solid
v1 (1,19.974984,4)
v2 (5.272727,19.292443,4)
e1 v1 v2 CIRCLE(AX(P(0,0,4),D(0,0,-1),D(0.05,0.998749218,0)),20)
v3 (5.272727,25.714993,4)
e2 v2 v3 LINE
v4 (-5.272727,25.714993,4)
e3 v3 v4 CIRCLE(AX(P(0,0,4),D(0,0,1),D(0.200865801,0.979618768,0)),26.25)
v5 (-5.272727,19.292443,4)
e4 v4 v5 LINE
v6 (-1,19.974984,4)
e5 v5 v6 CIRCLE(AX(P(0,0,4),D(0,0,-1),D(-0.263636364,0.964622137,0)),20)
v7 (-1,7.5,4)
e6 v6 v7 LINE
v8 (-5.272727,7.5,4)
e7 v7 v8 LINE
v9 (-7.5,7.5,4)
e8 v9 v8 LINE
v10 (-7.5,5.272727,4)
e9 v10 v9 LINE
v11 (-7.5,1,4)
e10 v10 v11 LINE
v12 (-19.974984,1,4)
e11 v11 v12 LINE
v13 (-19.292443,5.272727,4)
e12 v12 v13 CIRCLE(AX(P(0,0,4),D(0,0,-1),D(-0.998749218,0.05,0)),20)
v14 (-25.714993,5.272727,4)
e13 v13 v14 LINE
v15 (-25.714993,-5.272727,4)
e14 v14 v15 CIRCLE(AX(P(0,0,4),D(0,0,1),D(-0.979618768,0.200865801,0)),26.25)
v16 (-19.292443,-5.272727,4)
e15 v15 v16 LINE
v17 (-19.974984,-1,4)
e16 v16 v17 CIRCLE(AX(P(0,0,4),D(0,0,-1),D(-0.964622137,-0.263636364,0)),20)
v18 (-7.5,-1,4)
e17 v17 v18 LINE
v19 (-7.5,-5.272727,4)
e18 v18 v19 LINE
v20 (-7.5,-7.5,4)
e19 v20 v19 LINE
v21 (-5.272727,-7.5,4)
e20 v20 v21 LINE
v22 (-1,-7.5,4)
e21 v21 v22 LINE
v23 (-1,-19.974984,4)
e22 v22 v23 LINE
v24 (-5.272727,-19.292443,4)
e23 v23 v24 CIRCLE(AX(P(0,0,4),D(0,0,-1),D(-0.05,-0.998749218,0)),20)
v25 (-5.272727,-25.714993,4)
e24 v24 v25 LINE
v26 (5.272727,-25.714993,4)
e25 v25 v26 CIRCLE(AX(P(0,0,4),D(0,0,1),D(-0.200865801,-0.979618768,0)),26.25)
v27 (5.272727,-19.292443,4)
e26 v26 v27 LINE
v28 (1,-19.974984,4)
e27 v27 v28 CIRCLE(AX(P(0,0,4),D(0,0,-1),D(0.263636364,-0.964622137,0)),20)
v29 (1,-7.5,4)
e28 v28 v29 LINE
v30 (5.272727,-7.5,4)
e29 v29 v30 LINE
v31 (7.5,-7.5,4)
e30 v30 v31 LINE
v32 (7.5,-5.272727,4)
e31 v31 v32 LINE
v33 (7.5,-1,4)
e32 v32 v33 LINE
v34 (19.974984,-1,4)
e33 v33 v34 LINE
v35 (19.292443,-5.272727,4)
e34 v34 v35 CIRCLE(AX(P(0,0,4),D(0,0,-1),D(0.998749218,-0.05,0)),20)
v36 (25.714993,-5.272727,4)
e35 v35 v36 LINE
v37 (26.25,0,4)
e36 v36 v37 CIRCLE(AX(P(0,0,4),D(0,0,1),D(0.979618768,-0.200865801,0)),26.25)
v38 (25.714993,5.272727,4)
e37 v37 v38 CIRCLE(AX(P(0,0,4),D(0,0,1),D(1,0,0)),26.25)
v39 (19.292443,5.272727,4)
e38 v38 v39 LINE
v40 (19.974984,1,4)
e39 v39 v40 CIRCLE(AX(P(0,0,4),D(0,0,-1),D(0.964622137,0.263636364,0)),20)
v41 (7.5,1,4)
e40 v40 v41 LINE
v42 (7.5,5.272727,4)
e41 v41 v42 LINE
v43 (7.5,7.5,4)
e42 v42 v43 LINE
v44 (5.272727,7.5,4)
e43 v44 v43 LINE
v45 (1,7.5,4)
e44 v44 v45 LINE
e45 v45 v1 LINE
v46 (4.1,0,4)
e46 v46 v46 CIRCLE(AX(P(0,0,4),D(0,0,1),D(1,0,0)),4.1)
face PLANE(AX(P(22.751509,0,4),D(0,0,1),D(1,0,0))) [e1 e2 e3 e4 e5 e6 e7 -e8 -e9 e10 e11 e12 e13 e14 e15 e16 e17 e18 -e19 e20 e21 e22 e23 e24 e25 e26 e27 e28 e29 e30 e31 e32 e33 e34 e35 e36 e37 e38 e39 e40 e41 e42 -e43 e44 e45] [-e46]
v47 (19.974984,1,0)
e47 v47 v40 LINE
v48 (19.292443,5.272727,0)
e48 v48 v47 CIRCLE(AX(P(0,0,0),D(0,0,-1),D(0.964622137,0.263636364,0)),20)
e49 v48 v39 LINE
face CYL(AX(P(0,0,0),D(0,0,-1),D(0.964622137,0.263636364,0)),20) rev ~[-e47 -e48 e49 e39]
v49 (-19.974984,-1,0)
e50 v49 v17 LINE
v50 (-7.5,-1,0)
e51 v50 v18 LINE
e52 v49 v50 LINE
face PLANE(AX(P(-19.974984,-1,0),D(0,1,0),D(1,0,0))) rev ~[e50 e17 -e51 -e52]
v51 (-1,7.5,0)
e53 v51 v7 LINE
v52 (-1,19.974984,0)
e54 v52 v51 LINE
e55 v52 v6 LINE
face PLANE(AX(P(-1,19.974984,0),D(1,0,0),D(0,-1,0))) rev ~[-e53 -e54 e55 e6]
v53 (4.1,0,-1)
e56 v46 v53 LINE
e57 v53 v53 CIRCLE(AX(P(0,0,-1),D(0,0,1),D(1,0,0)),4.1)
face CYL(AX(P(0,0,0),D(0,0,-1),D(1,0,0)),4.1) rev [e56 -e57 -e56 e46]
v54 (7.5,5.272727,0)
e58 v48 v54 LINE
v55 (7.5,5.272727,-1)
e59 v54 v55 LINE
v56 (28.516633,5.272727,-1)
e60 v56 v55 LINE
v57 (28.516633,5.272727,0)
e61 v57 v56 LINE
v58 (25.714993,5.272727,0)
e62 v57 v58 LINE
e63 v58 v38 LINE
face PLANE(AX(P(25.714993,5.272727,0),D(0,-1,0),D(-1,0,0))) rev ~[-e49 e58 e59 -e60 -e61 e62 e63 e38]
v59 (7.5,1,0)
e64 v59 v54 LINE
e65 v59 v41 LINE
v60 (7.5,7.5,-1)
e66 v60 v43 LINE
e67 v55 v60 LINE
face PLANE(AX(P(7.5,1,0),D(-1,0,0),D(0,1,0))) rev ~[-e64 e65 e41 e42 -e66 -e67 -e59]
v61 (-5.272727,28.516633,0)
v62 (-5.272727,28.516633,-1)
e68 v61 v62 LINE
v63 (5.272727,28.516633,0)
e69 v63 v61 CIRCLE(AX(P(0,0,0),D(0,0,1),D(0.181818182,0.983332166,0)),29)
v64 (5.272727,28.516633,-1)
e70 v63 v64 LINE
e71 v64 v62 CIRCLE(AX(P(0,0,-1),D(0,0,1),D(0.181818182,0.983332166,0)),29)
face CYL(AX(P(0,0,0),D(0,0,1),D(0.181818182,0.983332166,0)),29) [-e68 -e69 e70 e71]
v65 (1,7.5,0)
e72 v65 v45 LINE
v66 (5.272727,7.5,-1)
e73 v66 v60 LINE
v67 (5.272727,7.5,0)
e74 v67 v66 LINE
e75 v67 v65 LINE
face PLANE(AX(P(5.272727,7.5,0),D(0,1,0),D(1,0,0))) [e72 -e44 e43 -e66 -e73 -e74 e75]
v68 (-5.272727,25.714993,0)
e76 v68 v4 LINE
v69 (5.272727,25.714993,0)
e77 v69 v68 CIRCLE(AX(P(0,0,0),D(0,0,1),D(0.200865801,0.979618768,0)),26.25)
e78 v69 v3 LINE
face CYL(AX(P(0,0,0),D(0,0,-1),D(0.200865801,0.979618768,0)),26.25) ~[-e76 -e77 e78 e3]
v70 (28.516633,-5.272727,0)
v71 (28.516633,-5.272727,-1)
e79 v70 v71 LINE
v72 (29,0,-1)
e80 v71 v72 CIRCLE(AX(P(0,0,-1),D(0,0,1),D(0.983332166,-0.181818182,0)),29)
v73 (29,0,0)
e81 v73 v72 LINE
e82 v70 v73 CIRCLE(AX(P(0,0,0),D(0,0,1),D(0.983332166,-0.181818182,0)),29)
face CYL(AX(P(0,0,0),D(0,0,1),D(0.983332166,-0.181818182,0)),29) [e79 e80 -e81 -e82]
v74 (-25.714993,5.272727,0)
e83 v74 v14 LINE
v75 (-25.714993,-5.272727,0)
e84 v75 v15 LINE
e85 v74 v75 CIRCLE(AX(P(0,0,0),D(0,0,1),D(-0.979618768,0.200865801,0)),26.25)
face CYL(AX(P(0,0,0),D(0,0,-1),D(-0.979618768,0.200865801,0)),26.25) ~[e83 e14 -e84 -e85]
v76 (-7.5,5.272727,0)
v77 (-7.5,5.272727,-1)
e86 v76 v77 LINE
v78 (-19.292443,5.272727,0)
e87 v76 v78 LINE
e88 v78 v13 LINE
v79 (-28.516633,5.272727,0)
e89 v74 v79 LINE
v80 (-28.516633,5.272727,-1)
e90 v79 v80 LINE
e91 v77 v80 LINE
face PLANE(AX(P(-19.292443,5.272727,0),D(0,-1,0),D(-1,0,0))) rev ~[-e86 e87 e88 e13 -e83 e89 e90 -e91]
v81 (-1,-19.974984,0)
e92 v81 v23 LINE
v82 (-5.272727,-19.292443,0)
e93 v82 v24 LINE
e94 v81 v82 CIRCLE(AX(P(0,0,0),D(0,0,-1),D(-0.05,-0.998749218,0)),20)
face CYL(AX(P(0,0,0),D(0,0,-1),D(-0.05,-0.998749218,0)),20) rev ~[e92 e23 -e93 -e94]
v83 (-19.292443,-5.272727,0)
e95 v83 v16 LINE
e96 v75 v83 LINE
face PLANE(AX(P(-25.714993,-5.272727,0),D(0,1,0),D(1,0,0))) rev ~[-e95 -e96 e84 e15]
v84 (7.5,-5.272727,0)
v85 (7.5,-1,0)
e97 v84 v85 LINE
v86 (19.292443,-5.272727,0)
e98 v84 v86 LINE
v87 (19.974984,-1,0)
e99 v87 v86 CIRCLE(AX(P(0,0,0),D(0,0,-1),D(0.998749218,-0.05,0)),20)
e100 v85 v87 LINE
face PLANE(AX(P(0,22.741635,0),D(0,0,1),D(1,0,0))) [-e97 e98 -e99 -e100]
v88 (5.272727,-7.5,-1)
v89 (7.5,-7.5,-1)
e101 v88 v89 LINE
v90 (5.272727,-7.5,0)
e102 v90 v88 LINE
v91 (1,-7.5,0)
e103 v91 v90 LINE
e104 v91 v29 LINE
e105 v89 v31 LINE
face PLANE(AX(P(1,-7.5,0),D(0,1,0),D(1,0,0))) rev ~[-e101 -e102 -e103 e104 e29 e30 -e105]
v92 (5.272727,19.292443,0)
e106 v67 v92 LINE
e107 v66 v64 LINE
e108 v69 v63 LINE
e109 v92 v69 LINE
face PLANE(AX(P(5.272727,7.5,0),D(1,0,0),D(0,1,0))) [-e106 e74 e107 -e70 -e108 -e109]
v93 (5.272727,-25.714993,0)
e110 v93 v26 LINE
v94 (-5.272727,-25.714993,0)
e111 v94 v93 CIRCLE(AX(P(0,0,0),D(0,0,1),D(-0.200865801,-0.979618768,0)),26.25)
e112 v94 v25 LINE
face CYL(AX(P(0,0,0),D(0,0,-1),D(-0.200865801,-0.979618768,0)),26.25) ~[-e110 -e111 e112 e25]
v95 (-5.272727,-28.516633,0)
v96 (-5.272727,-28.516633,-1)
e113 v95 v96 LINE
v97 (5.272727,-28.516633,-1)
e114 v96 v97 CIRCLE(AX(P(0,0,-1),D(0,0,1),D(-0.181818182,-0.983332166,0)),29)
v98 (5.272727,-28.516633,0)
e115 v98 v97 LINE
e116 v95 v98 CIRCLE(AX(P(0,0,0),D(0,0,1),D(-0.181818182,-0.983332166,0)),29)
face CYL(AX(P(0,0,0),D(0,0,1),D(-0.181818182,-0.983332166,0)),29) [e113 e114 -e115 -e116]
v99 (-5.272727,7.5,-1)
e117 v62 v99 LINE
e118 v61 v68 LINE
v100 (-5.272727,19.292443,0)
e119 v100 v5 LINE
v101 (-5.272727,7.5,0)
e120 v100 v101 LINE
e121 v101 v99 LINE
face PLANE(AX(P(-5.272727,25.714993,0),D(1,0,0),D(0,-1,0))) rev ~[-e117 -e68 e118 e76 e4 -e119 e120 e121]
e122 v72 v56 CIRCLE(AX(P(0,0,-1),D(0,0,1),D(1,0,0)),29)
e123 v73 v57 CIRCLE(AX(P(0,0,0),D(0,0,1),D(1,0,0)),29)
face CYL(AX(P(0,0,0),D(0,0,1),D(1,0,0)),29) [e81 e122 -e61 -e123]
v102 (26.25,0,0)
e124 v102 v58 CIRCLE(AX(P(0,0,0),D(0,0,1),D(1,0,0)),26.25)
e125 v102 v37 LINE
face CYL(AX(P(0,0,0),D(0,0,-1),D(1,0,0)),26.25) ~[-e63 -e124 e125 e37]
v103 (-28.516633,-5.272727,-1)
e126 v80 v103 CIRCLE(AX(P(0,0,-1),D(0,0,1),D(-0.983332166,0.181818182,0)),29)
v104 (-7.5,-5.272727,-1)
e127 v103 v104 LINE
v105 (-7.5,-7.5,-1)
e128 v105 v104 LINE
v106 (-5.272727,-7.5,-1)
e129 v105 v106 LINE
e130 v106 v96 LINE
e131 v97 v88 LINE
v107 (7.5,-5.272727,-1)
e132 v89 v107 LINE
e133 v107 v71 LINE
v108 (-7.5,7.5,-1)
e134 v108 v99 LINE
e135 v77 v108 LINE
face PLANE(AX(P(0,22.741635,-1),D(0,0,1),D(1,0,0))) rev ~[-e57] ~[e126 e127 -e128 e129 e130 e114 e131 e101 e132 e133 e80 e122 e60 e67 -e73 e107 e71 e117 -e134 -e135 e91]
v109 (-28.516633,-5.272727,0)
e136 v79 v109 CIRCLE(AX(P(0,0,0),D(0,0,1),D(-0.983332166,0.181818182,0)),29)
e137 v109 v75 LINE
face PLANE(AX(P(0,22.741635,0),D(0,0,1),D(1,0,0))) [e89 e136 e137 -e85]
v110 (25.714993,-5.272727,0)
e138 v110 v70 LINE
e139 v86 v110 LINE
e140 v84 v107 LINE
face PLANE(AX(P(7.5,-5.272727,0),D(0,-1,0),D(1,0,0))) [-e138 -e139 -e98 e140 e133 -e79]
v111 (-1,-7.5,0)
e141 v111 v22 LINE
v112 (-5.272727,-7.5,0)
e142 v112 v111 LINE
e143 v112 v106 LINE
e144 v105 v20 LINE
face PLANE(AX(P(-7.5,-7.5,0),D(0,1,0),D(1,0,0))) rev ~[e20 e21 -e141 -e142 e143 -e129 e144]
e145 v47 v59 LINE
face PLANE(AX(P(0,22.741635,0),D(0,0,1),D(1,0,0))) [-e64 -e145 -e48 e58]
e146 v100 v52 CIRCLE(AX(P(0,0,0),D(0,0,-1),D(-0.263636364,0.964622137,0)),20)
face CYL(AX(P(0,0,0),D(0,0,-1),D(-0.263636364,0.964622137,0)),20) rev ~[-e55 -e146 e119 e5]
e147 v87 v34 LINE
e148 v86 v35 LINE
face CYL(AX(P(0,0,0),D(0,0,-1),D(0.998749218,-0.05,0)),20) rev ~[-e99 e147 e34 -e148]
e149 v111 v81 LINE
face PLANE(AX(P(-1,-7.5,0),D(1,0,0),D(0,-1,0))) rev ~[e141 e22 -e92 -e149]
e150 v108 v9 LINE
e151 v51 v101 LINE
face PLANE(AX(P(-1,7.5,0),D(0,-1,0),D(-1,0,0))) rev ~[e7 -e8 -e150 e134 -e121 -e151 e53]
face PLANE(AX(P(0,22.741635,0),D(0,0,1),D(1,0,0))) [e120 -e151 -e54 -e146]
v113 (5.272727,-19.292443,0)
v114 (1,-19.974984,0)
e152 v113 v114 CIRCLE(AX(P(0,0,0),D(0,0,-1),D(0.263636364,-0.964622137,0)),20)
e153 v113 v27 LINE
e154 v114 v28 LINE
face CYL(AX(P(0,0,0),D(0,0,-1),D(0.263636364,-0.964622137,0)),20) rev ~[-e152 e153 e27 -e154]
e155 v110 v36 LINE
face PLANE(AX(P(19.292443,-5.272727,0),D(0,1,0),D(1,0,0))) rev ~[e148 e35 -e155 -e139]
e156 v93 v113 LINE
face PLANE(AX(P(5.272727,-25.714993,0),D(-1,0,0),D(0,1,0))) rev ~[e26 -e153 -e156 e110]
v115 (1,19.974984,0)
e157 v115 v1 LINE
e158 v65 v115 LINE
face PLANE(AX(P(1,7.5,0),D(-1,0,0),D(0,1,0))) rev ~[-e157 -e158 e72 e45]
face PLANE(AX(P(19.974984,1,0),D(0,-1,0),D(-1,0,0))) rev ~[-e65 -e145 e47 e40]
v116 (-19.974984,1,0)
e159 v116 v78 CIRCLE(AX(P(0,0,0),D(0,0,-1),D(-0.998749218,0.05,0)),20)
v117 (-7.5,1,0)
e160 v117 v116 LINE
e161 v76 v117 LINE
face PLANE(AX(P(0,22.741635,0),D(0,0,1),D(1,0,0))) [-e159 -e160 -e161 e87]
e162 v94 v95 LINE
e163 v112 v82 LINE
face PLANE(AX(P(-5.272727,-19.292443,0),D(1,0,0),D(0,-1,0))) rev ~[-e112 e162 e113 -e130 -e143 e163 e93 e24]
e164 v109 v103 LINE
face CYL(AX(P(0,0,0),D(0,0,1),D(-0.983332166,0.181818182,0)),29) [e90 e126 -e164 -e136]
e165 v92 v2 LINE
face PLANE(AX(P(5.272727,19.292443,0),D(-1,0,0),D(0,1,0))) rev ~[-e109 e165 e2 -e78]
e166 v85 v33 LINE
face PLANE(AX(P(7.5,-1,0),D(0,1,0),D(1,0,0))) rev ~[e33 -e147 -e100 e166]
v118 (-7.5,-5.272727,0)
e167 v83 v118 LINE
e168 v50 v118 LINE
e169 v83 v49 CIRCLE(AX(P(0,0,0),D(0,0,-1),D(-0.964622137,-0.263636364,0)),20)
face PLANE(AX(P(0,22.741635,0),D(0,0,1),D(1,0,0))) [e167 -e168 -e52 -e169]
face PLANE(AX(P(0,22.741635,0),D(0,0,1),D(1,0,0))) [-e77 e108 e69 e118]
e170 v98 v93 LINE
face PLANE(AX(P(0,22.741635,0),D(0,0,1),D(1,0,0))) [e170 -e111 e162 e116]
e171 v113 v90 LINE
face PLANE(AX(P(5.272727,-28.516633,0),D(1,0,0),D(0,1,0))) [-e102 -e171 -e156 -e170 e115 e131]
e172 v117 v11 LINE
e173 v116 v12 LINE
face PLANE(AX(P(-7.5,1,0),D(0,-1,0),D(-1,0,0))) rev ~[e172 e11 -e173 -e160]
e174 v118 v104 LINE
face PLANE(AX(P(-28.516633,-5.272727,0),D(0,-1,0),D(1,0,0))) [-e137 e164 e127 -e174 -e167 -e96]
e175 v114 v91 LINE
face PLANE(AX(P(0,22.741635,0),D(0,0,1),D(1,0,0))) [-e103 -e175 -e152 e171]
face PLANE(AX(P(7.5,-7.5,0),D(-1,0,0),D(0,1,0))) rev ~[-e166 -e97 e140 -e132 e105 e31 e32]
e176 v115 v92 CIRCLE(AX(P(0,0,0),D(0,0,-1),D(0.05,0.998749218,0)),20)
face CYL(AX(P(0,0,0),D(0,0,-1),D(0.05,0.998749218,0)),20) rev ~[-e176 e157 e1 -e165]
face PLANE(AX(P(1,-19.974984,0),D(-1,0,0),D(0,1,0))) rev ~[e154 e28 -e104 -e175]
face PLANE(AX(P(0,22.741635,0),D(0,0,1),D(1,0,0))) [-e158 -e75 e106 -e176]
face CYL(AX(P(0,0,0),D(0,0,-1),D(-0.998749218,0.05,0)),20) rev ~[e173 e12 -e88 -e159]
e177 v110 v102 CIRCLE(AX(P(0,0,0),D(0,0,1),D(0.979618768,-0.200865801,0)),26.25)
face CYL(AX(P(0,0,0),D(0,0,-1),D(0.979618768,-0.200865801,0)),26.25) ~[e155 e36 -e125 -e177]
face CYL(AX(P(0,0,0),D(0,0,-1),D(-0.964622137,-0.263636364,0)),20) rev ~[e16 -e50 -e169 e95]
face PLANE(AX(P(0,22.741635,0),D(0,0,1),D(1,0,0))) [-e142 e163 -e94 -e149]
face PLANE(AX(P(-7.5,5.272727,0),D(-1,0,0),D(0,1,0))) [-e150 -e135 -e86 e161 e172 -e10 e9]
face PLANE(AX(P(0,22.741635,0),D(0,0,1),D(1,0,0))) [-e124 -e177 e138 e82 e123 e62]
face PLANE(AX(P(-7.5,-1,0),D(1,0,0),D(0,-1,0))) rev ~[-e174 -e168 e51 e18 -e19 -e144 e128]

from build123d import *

# Parameters (mm, degrees)
F0_R     = 4.1
F0_W     = 2.2272727273
F0_H     = 2.2272727273
F1_DEPTH = 1
F2_DEPTH = 4


with BuildPart() as f1:
    # F0 (on Top) → F1 (new body)
    with BuildSketch(Plane.XY):
        with BuildLine():
            Line((5.2727272727, 19.292442746), (5.2727272727, 25.7149926523))
            ThreePointArc((5.2727272727, 25.7149926523), (0, 26.25), (-5.2727272727, 25.7149926523))
            Line((-5.2727272727, 25.7149926523), (-5.2727272727, 19.292442746))
            ThreePointArc((-5.2727272727, 19.292442746), (-3.1548760073, 19.7496014486), (-1, 19.9749843554))
            ThreePointArc((-1, 19.9749843554), (0, 20), (1, 19.9749843554))
            ThreePointArc((1, 19.9749843554), (3.1548760073, 19.7496014486), (5.2727272727, 19.292442746))
        make_face()
        with BuildLine():
            ThreePointArc((-25.7149926523, -5.2727272727), (-26.25, 0), (-25.7149926523, 5.2727272727))
            Line((-25.7149926523, 5.2727272727), (-28.516632815, 5.2727272727))
            ThreePointArc((-28.516632815, 5.2727272727), (-29, 0), (-28.516632815, -5.2727272727))
            Line((-28.516632815, -5.2727272727), (-25.7149926523, -5.2727272727))
        make_face()
        with BuildLine():
            ThreePointArc((-5.2727272727, 25.7149926523), (0, 26.25), (5.2727272727, 25.7149926523))
            Line((5.2727272727, 25.7149926523), (5.2727272727, 28.516632815))
            ThreePointArc((5.2727272727, 28.516632815), (0, 29), (-5.2727272727, 28.516632815))
            Line((-5.2727272727, 28.516632815), (-5.2727272727, 25.7149926523))
        make_face()
        with BuildLine():
            ThreePointArc((25.7149926523, 5.2727272727), (26.1159056623, 2.6499002696), (26.25, 0))
            ThreePointArc((26.25, 0), (26.1159056623, -2.6499002696), (25.7149926523, -5.2727272727))
            Line((25.7149926523, -5.2727272727), (28.516632815, -5.2727272727))
            ThreePointArc((28.516632815, -5.2727272727), (28.8789053778, -2.6474183995), (29, 0))
            ThreePointArc((29, 0), (28.8789053778, 2.6474183995), (28.516632815, 5.2727272727))
            Line((28.516632815, 5.2727272727), (25.7149926523, 5.2727272727))
        make_face()
        with BuildLine():
            Line((5.2727272727, -28.516632815), (5.2727272727, -25.7149926523))
            ThreePointArc((5.2727272727, -25.7149926523), (0, -26.25), (-5.2727272727, -25.7149926523))
            Line((-5.2727272727, -25.7149926523), (-5.2727272727, -28.516632815))
            ThreePointArc((-5.2727272727, -28.516632815), (0, -29), (5.2727272727, -28.516632815))
        make_face()
        with BuildLine():
            Line((-7.5, 5.2727272727), (-19.292442746, 5.2727272727))
            ThreePointArc((-19.292442746, 5.2727272727), (-19.7496014486, 3.1548760073), (-19.9749843554, 1))
            Line((-19.9749843554, 1), (-7.5, 1))
            Line((-7.5, 1), (-7.5, 5.2727272727))
        make_face()
        Polygon((7.5, 1), (7.5, 5.2727272727), (5.2727272727, 5.2727272727), (5.2727272727, 7.5), (1, 7.5), (-1, 7.5), (-5.2727272727, 7.5), (-5.2727272727, 5.2727272727), (-7.5, 5.2727272727), (-7.5, 1), (-7.5, -1), (-7.5, -5.2727272727), (-5.2727272727, -5.2727272727), (-5.2727272727, -7.5), (-1, -7.5), (1, -7.5), (5.2727272727, -7.5), (5.2727272727, -5.2727272727), (7.5, -5.2727272727), (7.5, -1), align=None)
        Circle(F0_R, mode=Mode.SUBTRACT)
        with BuildLine():
            ThreePointArc((-1, 19.9749843554), (-3.1548760073, 19.7496014486), (-5.2727272727, 19.292442746))
            Line((-5.2727272727, 19.292442746), (-5.2727272727, 7.5))
            Line((-5.2727272727, 7.5), (-1, 7.5))
            Line((-1, 7.5), (-1, 19.9749843554))
        make_face()
        with BuildLine():
            ThreePointArc((19.9749843554, 1), (19.7496014486, 3.1548760073), (19.292442746, 5.2727272727))
            Line((19.292442746, 5.2727272727), (7.5, 5.2727272727))
            Line((7.5, 5.2727272727), (7.5, 1))
            Line((7.5, 1), (19.9749843554, 1))
        make_face()
        with BuildLine():
            ThreePointArc((25.7149926523, -5.2727272727), (26.1159056623, -2.6499002696), (26.25, 0))
            ThreePointArc((26.25, 0), (26.1159056623, 2.6499002696), (25.7149926523, 5.2727272727))
            Line((25.7149926523, 5.2727272727), (19.292442746, 5.2727272727))
            ThreePointArc((19.292442746, 5.2727272727), (19.7496014486, 3.1548760073), (19.9749843554, 1))
            ThreePointArc((19.9749843554, 1), (19.9937451108, 0.5001564212), (20, 0))
            ThreePointArc((20, 0), (19.9937451108, -0.5001564212), (19.9749843554, -1))
            ThreePointArc((19.9749843554, -1), (19.7496014486, -3.1548760073), (19.292442746, -5.2727272727))
            Line((19.292442746, -5.2727272727), (25.7149926523, -5.2727272727))
        make_face()
        with BuildLine():
            Line((-5.2727272727, -7.5), (-5.2727272727, -19.292442746))
            ThreePointArc((-5.2727272727, -19.292442746), (-3.1548760073, -19.7496014486), (-1, -19.9749843554))
            Line((-1, -19.9749843554), (-1, -7.5))
            Line((-1, -7.5), (-5.2727272727, -7.5))
        make_face()
        with BuildLine():
            ThreePointArc((-5.2727272727, -25.7149926523), (0, -26.25), (5.2727272727, -25.7149926523))
            Line((5.2727272727, -25.7149926523), (5.2727272727, -19.292442746))
            ThreePointArc((5.2727272727, -19.292442746), (3.1548760073, -19.7496014486), (1, -19.9749843554))
            ThreePointArc((1, -19.9749843554), (0, -20), (-1, -19.9749843554))
            ThreePointArc((-1, -19.9749843554), (-3.1548760073, -19.7496014486), (-5.2727272727, -19.292442746))
            Line((-5.2727272727, -19.292442746), (-5.2727272727, -25.7149926523))
        make_face()
        with BuildLine():
            Line((-19.292442746, 5.2727272727), (-25.7149926523, 5.2727272727))
            ThreePointArc((-25.7149926523, 5.2727272727), (-26.25, 0), (-25.7149926523, -5.2727272727))
            Line((-25.7149926523, -5.2727272727), (-19.292442746, -5.2727272727))
            ThreePointArc((-19.292442746, -5.2727272727), (-19.7496014486, -3.1548760073), (-19.9749843554, -1))
            ThreePointArc((-19.9749843554, -1), (-20, 0), (-19.9749843554, 1))
            ThreePointArc((-19.9749843554, 1), (-19.7496014486, 3.1548760073), (-19.292442746, 5.2727272727))
        make_face()
        with Locations((-6.3863636364, 6.3863636364)):
            Rectangle(F0_W, F0_H)
        with Locations((-6.3863636364, -6.3863636364)):
            Rectangle(F0_W, F0_H)
        with Locations((6.3863636364, -6.3863636364)):
            Rectangle(F0_W, F0_H)
        with Locations((6.3863636364, 6.3863636364)):
            Rectangle(F0_W, F0_H)
        with BuildLine():
            ThreePointArc((20, 0), (19.9937451108, 0.5001564212), (19.9749843554, 1))
            Line((19.9749843554, 1), (7.5, 1))
            Line((7.5, 1), (7.5, -1))
            Line((7.5, -1), (19.9749843554, -1))
            ThreePointArc((19.9749843554, -1), (19.9937451108, -0.5001564212), (20, 0))
        make_face()
        with BuildLine():
            Line((7.5, -5.2727272727), (19.292442746, -5.2727272727))
            ThreePointArc((19.292442746, -5.2727272727), (19.7496014486, -3.1548760073), (19.9749843554, -1))
            Line((19.9749843554, -1), (7.5, -1))
            Line((7.5, -1), (7.5, -5.2727272727))
        make_face()
        with BuildLine():
            ThreePointArc((-19.9749843554, -1), (-19.7496014486, -3.1548760073), (-19.292442746, -5.2727272727))
            Line((-19.292442746, -5.2727272727), (-7.5, -5.2727272727))
            Line((-7.5, -5.2727272727), (-7.5, -1))
            Line((-7.5, -1), (-19.9749843554, -1))
        make_face()
        with BuildLine():
            Line((-7.5, 1), (-19.9749843554, 1))
            ThreePointArc((-19.9749843554, 1), (-20, 0), (-19.9749843554, -1))
            Line((-19.9749843554, -1), (-7.5, -1))
            Line((-7.5, -1), (-7.5, 1))
        make_face()
        with BuildLine():
            Line((1, 7.5), (1, 19.9749843554))
            ThreePointArc((1, 19.9749843554), (0, 20), (-1, 19.9749843554))
            Line((-1, 19.9749843554), (-1, 7.5))
            Line((-1, 7.5), (1, 7.5))
        make_face()
        with BuildLine():
            Line((5.2727272727, 7.5), (5.2727272727, 19.292442746))
            ThreePointArc((5.2727272727, 19.292442746), (3.1548760073, 19.7496014486), (1, 19.9749843554))
            Line((1, 19.9749843554), (1, 7.5))
            Line((1, 7.5), (5.2727272727, 7.5))
        make_face()
        with BuildLine():
            ThreePointArc((1, -19.9749843554), (3.1548760073, -19.7496014486), (5.2727272727, -19.292442746))
            Line((5.2727272727, -19.292442746), (5.2727272727, -7.5))
            Line((5.2727272727, -7.5), (1, -7.5))
            Line((1, -7.5), (1, -19.9749843554))
        make_face()
        with BuildLine():
            ThreePointArc((-1, -19.9749843554), (0, -20), (1, -19.9749843554))
            Line((1, -19.9749843554), (1, -7.5))
            Line((1, -7.5), (-1, -7.5))
            Line((-1, -7.5), (-1, -19.9749843554))
        make_face()
    extrude(amount=-F1_DEPTH)

    # F0 (on Top) → F2 (join)
    with BuildSketch(Plane.XY):
        with BuildLine():
            ThreePointArc((25.7149926523, -5.2727272727), (26.1159056623, -2.6499002696), (26.25, 0))
            ThreePointArc((26.25, 0), (26.1159056623, 2.6499002696), (25.7149926523, 5.2727272727))
            Line((25.7149926523, 5.2727272727), (19.292442746, 5.2727272727))
            ThreePointArc((19.292442746, 5.2727272727), (19.7496014486, 3.1548760073), (19.9749843554, 1))
            ThreePointArc((19.9749843554, 1), (19.9937451108, 0.5001564212), (20, 0))
            ThreePointArc((20, 0), (19.9937451108, -0.5001564212), (19.9749843554, -1))
            ThreePointArc((19.9749843554, -1), (19.7496014486, -3.1548760073), (19.292442746, -5.2727272727))
            Line((19.292442746, -5.2727272727), (25.7149926523, -5.2727272727))
        make_face()
        with BuildLine():
            Line((5.2727272727, 19.292442746), (5.2727272727, 25.7149926523))
            ThreePointArc((5.2727272727, 25.7149926523), (0, 26.25), (-5.2727272727, 25.7149926523))
            Line((-5.2727272727, 25.7149926523), (-5.2727272727, 19.292442746))
            ThreePointArc((-5.2727272727, 19.292442746), (-3.1548760073, 19.7496014486), (-1, 19.9749843554))
            ThreePointArc((-1, 19.9749843554), (0, 20), (1, 19.9749843554))
            ThreePointArc((1, 19.9749843554), (3.1548760073, 19.7496014486), (5.2727272727, 19.292442746))
        make_face()
        with BuildLine():
            Line((-19.292442746, 5.2727272727), (-25.7149926523, 5.2727272727))
            ThreePointArc((-25.7149926523, 5.2727272727), (-26.25, 0), (-25.7149926523, -5.2727272727))
            Line((-25.7149926523, -5.2727272727), (-19.292442746, -5.2727272727))
            ThreePointArc((-19.292442746, -5.2727272727), (-19.7496014486, -3.1548760073), (-19.9749843554, -1))
            ThreePointArc((-19.9749843554, -1), (-20, 0), (-19.9749843554, 1))
            ThreePointArc((-19.9749843554, 1), (-19.7496014486, 3.1548760073), (-19.292442746, 5.2727272727))
        make_face()
        with BuildLine():
            ThreePointArc((-5.2727272727, -25.7149926523), (0, -26.25), (5.2727272727, -25.7149926523))
            Line((5.2727272727, -25.7149926523), (5.2727272727, -19.292442746))
            ThreePointArc((5.2727272727, -19.292442746), (3.1548760073, -19.7496014486), (1, -19.9749843554))
            ThreePointArc((1, -19.9749843554), (0, -20), (-1, -19.9749843554))
            ThreePointArc((-1, -19.9749843554), (-3.1548760073, -19.7496014486), (-5.2727272727, -19.292442746))
            Line((-5.2727272727, -19.292442746), (-5.2727272727, -25.7149926523))
        make_face()
        with BuildLine():
            Line((1, 7.5), (1, 19.9749843554))
            ThreePointArc((1, 19.9749843554), (0, 20), (-1, 19.9749843554))
            Line((-1, 19.9749843554), (-1, 7.5))
            Line((-1, 7.5), (1, 7.5))
        make_face()
        with BuildLine():
            Line((-7.5, 1), (-19.9749843554, 1))
            ThreePointArc((-19.9749843554, 1), (-20, 0), (-19.9749843554, -1))
            Line((-19.9749843554, -1), (-7.5, -1))
            Line((-7.5, -1), (-7.5, 1))
        make_face()
        with BuildLine():
            ThreePointArc((20, 0), (19.9937451108, 0.5001564212), (19.9749843554, 1))
            Line((19.9749843554, 1), (7.5, 1))
            Line((7.5, 1), (7.5, -1))
            Line((7.5, -1), (19.9749843554, -1))
            ThreePointArc((19.9749843554, -1), (19.9937451108, -0.5001564212), (20, 0))
        make_face()
        with BuildLine():
            ThreePointArc((-1, -19.9749843554), (0, -20), (1, -19.9749843554))
            Line((1, -19.9749843554), (1, -7.5))
            Line((1, -7.5), (-1, -7.5))
            Line((-1, -7.5), (-1, -19.9749843554))
        make_face()
        Polygon((7.5, 1), (7.5, 5.2727272727), (5.2727272727, 5.2727272727), (5.2727272727, 7.5), (1, 7.5), (-1, 7.5), (-5.2727272727, 7.5), (-5.2727272727, 5.2727272727), (-7.5, 5.2727272727), (-7.5, 1), (-7.5, -1), (-7.5, -5.2727272727), (-5.2727272727, -5.2727272727), (-5.2727272727, -7.5), (-1, -7.5), (1, -7.5), (5.2727272727, -7.5), (5.2727272727, -5.2727272727), (7.5, -5.2727272727), (7.5, -1), align=None)
        Circle(F0_R, mode=Mode.SUBTRACT)
        with Locations((-6.3863636364, 6.3863636364)):
            Rectangle(F0_W, F0_H)
        with Locations((-6.3863636364, -6.3863636364)):
            Rectangle(F0_W, F0_H)
        with Locations((6.3863636364, -6.3863636364)):
            Rectangle(F0_W, F0_H)
        with Locations((6.3863636364, 6.3863636364)):
            Rectangle(F0_W, F0_H)
    extrude(amount=F2_DEPTH)


solid = f1.part
